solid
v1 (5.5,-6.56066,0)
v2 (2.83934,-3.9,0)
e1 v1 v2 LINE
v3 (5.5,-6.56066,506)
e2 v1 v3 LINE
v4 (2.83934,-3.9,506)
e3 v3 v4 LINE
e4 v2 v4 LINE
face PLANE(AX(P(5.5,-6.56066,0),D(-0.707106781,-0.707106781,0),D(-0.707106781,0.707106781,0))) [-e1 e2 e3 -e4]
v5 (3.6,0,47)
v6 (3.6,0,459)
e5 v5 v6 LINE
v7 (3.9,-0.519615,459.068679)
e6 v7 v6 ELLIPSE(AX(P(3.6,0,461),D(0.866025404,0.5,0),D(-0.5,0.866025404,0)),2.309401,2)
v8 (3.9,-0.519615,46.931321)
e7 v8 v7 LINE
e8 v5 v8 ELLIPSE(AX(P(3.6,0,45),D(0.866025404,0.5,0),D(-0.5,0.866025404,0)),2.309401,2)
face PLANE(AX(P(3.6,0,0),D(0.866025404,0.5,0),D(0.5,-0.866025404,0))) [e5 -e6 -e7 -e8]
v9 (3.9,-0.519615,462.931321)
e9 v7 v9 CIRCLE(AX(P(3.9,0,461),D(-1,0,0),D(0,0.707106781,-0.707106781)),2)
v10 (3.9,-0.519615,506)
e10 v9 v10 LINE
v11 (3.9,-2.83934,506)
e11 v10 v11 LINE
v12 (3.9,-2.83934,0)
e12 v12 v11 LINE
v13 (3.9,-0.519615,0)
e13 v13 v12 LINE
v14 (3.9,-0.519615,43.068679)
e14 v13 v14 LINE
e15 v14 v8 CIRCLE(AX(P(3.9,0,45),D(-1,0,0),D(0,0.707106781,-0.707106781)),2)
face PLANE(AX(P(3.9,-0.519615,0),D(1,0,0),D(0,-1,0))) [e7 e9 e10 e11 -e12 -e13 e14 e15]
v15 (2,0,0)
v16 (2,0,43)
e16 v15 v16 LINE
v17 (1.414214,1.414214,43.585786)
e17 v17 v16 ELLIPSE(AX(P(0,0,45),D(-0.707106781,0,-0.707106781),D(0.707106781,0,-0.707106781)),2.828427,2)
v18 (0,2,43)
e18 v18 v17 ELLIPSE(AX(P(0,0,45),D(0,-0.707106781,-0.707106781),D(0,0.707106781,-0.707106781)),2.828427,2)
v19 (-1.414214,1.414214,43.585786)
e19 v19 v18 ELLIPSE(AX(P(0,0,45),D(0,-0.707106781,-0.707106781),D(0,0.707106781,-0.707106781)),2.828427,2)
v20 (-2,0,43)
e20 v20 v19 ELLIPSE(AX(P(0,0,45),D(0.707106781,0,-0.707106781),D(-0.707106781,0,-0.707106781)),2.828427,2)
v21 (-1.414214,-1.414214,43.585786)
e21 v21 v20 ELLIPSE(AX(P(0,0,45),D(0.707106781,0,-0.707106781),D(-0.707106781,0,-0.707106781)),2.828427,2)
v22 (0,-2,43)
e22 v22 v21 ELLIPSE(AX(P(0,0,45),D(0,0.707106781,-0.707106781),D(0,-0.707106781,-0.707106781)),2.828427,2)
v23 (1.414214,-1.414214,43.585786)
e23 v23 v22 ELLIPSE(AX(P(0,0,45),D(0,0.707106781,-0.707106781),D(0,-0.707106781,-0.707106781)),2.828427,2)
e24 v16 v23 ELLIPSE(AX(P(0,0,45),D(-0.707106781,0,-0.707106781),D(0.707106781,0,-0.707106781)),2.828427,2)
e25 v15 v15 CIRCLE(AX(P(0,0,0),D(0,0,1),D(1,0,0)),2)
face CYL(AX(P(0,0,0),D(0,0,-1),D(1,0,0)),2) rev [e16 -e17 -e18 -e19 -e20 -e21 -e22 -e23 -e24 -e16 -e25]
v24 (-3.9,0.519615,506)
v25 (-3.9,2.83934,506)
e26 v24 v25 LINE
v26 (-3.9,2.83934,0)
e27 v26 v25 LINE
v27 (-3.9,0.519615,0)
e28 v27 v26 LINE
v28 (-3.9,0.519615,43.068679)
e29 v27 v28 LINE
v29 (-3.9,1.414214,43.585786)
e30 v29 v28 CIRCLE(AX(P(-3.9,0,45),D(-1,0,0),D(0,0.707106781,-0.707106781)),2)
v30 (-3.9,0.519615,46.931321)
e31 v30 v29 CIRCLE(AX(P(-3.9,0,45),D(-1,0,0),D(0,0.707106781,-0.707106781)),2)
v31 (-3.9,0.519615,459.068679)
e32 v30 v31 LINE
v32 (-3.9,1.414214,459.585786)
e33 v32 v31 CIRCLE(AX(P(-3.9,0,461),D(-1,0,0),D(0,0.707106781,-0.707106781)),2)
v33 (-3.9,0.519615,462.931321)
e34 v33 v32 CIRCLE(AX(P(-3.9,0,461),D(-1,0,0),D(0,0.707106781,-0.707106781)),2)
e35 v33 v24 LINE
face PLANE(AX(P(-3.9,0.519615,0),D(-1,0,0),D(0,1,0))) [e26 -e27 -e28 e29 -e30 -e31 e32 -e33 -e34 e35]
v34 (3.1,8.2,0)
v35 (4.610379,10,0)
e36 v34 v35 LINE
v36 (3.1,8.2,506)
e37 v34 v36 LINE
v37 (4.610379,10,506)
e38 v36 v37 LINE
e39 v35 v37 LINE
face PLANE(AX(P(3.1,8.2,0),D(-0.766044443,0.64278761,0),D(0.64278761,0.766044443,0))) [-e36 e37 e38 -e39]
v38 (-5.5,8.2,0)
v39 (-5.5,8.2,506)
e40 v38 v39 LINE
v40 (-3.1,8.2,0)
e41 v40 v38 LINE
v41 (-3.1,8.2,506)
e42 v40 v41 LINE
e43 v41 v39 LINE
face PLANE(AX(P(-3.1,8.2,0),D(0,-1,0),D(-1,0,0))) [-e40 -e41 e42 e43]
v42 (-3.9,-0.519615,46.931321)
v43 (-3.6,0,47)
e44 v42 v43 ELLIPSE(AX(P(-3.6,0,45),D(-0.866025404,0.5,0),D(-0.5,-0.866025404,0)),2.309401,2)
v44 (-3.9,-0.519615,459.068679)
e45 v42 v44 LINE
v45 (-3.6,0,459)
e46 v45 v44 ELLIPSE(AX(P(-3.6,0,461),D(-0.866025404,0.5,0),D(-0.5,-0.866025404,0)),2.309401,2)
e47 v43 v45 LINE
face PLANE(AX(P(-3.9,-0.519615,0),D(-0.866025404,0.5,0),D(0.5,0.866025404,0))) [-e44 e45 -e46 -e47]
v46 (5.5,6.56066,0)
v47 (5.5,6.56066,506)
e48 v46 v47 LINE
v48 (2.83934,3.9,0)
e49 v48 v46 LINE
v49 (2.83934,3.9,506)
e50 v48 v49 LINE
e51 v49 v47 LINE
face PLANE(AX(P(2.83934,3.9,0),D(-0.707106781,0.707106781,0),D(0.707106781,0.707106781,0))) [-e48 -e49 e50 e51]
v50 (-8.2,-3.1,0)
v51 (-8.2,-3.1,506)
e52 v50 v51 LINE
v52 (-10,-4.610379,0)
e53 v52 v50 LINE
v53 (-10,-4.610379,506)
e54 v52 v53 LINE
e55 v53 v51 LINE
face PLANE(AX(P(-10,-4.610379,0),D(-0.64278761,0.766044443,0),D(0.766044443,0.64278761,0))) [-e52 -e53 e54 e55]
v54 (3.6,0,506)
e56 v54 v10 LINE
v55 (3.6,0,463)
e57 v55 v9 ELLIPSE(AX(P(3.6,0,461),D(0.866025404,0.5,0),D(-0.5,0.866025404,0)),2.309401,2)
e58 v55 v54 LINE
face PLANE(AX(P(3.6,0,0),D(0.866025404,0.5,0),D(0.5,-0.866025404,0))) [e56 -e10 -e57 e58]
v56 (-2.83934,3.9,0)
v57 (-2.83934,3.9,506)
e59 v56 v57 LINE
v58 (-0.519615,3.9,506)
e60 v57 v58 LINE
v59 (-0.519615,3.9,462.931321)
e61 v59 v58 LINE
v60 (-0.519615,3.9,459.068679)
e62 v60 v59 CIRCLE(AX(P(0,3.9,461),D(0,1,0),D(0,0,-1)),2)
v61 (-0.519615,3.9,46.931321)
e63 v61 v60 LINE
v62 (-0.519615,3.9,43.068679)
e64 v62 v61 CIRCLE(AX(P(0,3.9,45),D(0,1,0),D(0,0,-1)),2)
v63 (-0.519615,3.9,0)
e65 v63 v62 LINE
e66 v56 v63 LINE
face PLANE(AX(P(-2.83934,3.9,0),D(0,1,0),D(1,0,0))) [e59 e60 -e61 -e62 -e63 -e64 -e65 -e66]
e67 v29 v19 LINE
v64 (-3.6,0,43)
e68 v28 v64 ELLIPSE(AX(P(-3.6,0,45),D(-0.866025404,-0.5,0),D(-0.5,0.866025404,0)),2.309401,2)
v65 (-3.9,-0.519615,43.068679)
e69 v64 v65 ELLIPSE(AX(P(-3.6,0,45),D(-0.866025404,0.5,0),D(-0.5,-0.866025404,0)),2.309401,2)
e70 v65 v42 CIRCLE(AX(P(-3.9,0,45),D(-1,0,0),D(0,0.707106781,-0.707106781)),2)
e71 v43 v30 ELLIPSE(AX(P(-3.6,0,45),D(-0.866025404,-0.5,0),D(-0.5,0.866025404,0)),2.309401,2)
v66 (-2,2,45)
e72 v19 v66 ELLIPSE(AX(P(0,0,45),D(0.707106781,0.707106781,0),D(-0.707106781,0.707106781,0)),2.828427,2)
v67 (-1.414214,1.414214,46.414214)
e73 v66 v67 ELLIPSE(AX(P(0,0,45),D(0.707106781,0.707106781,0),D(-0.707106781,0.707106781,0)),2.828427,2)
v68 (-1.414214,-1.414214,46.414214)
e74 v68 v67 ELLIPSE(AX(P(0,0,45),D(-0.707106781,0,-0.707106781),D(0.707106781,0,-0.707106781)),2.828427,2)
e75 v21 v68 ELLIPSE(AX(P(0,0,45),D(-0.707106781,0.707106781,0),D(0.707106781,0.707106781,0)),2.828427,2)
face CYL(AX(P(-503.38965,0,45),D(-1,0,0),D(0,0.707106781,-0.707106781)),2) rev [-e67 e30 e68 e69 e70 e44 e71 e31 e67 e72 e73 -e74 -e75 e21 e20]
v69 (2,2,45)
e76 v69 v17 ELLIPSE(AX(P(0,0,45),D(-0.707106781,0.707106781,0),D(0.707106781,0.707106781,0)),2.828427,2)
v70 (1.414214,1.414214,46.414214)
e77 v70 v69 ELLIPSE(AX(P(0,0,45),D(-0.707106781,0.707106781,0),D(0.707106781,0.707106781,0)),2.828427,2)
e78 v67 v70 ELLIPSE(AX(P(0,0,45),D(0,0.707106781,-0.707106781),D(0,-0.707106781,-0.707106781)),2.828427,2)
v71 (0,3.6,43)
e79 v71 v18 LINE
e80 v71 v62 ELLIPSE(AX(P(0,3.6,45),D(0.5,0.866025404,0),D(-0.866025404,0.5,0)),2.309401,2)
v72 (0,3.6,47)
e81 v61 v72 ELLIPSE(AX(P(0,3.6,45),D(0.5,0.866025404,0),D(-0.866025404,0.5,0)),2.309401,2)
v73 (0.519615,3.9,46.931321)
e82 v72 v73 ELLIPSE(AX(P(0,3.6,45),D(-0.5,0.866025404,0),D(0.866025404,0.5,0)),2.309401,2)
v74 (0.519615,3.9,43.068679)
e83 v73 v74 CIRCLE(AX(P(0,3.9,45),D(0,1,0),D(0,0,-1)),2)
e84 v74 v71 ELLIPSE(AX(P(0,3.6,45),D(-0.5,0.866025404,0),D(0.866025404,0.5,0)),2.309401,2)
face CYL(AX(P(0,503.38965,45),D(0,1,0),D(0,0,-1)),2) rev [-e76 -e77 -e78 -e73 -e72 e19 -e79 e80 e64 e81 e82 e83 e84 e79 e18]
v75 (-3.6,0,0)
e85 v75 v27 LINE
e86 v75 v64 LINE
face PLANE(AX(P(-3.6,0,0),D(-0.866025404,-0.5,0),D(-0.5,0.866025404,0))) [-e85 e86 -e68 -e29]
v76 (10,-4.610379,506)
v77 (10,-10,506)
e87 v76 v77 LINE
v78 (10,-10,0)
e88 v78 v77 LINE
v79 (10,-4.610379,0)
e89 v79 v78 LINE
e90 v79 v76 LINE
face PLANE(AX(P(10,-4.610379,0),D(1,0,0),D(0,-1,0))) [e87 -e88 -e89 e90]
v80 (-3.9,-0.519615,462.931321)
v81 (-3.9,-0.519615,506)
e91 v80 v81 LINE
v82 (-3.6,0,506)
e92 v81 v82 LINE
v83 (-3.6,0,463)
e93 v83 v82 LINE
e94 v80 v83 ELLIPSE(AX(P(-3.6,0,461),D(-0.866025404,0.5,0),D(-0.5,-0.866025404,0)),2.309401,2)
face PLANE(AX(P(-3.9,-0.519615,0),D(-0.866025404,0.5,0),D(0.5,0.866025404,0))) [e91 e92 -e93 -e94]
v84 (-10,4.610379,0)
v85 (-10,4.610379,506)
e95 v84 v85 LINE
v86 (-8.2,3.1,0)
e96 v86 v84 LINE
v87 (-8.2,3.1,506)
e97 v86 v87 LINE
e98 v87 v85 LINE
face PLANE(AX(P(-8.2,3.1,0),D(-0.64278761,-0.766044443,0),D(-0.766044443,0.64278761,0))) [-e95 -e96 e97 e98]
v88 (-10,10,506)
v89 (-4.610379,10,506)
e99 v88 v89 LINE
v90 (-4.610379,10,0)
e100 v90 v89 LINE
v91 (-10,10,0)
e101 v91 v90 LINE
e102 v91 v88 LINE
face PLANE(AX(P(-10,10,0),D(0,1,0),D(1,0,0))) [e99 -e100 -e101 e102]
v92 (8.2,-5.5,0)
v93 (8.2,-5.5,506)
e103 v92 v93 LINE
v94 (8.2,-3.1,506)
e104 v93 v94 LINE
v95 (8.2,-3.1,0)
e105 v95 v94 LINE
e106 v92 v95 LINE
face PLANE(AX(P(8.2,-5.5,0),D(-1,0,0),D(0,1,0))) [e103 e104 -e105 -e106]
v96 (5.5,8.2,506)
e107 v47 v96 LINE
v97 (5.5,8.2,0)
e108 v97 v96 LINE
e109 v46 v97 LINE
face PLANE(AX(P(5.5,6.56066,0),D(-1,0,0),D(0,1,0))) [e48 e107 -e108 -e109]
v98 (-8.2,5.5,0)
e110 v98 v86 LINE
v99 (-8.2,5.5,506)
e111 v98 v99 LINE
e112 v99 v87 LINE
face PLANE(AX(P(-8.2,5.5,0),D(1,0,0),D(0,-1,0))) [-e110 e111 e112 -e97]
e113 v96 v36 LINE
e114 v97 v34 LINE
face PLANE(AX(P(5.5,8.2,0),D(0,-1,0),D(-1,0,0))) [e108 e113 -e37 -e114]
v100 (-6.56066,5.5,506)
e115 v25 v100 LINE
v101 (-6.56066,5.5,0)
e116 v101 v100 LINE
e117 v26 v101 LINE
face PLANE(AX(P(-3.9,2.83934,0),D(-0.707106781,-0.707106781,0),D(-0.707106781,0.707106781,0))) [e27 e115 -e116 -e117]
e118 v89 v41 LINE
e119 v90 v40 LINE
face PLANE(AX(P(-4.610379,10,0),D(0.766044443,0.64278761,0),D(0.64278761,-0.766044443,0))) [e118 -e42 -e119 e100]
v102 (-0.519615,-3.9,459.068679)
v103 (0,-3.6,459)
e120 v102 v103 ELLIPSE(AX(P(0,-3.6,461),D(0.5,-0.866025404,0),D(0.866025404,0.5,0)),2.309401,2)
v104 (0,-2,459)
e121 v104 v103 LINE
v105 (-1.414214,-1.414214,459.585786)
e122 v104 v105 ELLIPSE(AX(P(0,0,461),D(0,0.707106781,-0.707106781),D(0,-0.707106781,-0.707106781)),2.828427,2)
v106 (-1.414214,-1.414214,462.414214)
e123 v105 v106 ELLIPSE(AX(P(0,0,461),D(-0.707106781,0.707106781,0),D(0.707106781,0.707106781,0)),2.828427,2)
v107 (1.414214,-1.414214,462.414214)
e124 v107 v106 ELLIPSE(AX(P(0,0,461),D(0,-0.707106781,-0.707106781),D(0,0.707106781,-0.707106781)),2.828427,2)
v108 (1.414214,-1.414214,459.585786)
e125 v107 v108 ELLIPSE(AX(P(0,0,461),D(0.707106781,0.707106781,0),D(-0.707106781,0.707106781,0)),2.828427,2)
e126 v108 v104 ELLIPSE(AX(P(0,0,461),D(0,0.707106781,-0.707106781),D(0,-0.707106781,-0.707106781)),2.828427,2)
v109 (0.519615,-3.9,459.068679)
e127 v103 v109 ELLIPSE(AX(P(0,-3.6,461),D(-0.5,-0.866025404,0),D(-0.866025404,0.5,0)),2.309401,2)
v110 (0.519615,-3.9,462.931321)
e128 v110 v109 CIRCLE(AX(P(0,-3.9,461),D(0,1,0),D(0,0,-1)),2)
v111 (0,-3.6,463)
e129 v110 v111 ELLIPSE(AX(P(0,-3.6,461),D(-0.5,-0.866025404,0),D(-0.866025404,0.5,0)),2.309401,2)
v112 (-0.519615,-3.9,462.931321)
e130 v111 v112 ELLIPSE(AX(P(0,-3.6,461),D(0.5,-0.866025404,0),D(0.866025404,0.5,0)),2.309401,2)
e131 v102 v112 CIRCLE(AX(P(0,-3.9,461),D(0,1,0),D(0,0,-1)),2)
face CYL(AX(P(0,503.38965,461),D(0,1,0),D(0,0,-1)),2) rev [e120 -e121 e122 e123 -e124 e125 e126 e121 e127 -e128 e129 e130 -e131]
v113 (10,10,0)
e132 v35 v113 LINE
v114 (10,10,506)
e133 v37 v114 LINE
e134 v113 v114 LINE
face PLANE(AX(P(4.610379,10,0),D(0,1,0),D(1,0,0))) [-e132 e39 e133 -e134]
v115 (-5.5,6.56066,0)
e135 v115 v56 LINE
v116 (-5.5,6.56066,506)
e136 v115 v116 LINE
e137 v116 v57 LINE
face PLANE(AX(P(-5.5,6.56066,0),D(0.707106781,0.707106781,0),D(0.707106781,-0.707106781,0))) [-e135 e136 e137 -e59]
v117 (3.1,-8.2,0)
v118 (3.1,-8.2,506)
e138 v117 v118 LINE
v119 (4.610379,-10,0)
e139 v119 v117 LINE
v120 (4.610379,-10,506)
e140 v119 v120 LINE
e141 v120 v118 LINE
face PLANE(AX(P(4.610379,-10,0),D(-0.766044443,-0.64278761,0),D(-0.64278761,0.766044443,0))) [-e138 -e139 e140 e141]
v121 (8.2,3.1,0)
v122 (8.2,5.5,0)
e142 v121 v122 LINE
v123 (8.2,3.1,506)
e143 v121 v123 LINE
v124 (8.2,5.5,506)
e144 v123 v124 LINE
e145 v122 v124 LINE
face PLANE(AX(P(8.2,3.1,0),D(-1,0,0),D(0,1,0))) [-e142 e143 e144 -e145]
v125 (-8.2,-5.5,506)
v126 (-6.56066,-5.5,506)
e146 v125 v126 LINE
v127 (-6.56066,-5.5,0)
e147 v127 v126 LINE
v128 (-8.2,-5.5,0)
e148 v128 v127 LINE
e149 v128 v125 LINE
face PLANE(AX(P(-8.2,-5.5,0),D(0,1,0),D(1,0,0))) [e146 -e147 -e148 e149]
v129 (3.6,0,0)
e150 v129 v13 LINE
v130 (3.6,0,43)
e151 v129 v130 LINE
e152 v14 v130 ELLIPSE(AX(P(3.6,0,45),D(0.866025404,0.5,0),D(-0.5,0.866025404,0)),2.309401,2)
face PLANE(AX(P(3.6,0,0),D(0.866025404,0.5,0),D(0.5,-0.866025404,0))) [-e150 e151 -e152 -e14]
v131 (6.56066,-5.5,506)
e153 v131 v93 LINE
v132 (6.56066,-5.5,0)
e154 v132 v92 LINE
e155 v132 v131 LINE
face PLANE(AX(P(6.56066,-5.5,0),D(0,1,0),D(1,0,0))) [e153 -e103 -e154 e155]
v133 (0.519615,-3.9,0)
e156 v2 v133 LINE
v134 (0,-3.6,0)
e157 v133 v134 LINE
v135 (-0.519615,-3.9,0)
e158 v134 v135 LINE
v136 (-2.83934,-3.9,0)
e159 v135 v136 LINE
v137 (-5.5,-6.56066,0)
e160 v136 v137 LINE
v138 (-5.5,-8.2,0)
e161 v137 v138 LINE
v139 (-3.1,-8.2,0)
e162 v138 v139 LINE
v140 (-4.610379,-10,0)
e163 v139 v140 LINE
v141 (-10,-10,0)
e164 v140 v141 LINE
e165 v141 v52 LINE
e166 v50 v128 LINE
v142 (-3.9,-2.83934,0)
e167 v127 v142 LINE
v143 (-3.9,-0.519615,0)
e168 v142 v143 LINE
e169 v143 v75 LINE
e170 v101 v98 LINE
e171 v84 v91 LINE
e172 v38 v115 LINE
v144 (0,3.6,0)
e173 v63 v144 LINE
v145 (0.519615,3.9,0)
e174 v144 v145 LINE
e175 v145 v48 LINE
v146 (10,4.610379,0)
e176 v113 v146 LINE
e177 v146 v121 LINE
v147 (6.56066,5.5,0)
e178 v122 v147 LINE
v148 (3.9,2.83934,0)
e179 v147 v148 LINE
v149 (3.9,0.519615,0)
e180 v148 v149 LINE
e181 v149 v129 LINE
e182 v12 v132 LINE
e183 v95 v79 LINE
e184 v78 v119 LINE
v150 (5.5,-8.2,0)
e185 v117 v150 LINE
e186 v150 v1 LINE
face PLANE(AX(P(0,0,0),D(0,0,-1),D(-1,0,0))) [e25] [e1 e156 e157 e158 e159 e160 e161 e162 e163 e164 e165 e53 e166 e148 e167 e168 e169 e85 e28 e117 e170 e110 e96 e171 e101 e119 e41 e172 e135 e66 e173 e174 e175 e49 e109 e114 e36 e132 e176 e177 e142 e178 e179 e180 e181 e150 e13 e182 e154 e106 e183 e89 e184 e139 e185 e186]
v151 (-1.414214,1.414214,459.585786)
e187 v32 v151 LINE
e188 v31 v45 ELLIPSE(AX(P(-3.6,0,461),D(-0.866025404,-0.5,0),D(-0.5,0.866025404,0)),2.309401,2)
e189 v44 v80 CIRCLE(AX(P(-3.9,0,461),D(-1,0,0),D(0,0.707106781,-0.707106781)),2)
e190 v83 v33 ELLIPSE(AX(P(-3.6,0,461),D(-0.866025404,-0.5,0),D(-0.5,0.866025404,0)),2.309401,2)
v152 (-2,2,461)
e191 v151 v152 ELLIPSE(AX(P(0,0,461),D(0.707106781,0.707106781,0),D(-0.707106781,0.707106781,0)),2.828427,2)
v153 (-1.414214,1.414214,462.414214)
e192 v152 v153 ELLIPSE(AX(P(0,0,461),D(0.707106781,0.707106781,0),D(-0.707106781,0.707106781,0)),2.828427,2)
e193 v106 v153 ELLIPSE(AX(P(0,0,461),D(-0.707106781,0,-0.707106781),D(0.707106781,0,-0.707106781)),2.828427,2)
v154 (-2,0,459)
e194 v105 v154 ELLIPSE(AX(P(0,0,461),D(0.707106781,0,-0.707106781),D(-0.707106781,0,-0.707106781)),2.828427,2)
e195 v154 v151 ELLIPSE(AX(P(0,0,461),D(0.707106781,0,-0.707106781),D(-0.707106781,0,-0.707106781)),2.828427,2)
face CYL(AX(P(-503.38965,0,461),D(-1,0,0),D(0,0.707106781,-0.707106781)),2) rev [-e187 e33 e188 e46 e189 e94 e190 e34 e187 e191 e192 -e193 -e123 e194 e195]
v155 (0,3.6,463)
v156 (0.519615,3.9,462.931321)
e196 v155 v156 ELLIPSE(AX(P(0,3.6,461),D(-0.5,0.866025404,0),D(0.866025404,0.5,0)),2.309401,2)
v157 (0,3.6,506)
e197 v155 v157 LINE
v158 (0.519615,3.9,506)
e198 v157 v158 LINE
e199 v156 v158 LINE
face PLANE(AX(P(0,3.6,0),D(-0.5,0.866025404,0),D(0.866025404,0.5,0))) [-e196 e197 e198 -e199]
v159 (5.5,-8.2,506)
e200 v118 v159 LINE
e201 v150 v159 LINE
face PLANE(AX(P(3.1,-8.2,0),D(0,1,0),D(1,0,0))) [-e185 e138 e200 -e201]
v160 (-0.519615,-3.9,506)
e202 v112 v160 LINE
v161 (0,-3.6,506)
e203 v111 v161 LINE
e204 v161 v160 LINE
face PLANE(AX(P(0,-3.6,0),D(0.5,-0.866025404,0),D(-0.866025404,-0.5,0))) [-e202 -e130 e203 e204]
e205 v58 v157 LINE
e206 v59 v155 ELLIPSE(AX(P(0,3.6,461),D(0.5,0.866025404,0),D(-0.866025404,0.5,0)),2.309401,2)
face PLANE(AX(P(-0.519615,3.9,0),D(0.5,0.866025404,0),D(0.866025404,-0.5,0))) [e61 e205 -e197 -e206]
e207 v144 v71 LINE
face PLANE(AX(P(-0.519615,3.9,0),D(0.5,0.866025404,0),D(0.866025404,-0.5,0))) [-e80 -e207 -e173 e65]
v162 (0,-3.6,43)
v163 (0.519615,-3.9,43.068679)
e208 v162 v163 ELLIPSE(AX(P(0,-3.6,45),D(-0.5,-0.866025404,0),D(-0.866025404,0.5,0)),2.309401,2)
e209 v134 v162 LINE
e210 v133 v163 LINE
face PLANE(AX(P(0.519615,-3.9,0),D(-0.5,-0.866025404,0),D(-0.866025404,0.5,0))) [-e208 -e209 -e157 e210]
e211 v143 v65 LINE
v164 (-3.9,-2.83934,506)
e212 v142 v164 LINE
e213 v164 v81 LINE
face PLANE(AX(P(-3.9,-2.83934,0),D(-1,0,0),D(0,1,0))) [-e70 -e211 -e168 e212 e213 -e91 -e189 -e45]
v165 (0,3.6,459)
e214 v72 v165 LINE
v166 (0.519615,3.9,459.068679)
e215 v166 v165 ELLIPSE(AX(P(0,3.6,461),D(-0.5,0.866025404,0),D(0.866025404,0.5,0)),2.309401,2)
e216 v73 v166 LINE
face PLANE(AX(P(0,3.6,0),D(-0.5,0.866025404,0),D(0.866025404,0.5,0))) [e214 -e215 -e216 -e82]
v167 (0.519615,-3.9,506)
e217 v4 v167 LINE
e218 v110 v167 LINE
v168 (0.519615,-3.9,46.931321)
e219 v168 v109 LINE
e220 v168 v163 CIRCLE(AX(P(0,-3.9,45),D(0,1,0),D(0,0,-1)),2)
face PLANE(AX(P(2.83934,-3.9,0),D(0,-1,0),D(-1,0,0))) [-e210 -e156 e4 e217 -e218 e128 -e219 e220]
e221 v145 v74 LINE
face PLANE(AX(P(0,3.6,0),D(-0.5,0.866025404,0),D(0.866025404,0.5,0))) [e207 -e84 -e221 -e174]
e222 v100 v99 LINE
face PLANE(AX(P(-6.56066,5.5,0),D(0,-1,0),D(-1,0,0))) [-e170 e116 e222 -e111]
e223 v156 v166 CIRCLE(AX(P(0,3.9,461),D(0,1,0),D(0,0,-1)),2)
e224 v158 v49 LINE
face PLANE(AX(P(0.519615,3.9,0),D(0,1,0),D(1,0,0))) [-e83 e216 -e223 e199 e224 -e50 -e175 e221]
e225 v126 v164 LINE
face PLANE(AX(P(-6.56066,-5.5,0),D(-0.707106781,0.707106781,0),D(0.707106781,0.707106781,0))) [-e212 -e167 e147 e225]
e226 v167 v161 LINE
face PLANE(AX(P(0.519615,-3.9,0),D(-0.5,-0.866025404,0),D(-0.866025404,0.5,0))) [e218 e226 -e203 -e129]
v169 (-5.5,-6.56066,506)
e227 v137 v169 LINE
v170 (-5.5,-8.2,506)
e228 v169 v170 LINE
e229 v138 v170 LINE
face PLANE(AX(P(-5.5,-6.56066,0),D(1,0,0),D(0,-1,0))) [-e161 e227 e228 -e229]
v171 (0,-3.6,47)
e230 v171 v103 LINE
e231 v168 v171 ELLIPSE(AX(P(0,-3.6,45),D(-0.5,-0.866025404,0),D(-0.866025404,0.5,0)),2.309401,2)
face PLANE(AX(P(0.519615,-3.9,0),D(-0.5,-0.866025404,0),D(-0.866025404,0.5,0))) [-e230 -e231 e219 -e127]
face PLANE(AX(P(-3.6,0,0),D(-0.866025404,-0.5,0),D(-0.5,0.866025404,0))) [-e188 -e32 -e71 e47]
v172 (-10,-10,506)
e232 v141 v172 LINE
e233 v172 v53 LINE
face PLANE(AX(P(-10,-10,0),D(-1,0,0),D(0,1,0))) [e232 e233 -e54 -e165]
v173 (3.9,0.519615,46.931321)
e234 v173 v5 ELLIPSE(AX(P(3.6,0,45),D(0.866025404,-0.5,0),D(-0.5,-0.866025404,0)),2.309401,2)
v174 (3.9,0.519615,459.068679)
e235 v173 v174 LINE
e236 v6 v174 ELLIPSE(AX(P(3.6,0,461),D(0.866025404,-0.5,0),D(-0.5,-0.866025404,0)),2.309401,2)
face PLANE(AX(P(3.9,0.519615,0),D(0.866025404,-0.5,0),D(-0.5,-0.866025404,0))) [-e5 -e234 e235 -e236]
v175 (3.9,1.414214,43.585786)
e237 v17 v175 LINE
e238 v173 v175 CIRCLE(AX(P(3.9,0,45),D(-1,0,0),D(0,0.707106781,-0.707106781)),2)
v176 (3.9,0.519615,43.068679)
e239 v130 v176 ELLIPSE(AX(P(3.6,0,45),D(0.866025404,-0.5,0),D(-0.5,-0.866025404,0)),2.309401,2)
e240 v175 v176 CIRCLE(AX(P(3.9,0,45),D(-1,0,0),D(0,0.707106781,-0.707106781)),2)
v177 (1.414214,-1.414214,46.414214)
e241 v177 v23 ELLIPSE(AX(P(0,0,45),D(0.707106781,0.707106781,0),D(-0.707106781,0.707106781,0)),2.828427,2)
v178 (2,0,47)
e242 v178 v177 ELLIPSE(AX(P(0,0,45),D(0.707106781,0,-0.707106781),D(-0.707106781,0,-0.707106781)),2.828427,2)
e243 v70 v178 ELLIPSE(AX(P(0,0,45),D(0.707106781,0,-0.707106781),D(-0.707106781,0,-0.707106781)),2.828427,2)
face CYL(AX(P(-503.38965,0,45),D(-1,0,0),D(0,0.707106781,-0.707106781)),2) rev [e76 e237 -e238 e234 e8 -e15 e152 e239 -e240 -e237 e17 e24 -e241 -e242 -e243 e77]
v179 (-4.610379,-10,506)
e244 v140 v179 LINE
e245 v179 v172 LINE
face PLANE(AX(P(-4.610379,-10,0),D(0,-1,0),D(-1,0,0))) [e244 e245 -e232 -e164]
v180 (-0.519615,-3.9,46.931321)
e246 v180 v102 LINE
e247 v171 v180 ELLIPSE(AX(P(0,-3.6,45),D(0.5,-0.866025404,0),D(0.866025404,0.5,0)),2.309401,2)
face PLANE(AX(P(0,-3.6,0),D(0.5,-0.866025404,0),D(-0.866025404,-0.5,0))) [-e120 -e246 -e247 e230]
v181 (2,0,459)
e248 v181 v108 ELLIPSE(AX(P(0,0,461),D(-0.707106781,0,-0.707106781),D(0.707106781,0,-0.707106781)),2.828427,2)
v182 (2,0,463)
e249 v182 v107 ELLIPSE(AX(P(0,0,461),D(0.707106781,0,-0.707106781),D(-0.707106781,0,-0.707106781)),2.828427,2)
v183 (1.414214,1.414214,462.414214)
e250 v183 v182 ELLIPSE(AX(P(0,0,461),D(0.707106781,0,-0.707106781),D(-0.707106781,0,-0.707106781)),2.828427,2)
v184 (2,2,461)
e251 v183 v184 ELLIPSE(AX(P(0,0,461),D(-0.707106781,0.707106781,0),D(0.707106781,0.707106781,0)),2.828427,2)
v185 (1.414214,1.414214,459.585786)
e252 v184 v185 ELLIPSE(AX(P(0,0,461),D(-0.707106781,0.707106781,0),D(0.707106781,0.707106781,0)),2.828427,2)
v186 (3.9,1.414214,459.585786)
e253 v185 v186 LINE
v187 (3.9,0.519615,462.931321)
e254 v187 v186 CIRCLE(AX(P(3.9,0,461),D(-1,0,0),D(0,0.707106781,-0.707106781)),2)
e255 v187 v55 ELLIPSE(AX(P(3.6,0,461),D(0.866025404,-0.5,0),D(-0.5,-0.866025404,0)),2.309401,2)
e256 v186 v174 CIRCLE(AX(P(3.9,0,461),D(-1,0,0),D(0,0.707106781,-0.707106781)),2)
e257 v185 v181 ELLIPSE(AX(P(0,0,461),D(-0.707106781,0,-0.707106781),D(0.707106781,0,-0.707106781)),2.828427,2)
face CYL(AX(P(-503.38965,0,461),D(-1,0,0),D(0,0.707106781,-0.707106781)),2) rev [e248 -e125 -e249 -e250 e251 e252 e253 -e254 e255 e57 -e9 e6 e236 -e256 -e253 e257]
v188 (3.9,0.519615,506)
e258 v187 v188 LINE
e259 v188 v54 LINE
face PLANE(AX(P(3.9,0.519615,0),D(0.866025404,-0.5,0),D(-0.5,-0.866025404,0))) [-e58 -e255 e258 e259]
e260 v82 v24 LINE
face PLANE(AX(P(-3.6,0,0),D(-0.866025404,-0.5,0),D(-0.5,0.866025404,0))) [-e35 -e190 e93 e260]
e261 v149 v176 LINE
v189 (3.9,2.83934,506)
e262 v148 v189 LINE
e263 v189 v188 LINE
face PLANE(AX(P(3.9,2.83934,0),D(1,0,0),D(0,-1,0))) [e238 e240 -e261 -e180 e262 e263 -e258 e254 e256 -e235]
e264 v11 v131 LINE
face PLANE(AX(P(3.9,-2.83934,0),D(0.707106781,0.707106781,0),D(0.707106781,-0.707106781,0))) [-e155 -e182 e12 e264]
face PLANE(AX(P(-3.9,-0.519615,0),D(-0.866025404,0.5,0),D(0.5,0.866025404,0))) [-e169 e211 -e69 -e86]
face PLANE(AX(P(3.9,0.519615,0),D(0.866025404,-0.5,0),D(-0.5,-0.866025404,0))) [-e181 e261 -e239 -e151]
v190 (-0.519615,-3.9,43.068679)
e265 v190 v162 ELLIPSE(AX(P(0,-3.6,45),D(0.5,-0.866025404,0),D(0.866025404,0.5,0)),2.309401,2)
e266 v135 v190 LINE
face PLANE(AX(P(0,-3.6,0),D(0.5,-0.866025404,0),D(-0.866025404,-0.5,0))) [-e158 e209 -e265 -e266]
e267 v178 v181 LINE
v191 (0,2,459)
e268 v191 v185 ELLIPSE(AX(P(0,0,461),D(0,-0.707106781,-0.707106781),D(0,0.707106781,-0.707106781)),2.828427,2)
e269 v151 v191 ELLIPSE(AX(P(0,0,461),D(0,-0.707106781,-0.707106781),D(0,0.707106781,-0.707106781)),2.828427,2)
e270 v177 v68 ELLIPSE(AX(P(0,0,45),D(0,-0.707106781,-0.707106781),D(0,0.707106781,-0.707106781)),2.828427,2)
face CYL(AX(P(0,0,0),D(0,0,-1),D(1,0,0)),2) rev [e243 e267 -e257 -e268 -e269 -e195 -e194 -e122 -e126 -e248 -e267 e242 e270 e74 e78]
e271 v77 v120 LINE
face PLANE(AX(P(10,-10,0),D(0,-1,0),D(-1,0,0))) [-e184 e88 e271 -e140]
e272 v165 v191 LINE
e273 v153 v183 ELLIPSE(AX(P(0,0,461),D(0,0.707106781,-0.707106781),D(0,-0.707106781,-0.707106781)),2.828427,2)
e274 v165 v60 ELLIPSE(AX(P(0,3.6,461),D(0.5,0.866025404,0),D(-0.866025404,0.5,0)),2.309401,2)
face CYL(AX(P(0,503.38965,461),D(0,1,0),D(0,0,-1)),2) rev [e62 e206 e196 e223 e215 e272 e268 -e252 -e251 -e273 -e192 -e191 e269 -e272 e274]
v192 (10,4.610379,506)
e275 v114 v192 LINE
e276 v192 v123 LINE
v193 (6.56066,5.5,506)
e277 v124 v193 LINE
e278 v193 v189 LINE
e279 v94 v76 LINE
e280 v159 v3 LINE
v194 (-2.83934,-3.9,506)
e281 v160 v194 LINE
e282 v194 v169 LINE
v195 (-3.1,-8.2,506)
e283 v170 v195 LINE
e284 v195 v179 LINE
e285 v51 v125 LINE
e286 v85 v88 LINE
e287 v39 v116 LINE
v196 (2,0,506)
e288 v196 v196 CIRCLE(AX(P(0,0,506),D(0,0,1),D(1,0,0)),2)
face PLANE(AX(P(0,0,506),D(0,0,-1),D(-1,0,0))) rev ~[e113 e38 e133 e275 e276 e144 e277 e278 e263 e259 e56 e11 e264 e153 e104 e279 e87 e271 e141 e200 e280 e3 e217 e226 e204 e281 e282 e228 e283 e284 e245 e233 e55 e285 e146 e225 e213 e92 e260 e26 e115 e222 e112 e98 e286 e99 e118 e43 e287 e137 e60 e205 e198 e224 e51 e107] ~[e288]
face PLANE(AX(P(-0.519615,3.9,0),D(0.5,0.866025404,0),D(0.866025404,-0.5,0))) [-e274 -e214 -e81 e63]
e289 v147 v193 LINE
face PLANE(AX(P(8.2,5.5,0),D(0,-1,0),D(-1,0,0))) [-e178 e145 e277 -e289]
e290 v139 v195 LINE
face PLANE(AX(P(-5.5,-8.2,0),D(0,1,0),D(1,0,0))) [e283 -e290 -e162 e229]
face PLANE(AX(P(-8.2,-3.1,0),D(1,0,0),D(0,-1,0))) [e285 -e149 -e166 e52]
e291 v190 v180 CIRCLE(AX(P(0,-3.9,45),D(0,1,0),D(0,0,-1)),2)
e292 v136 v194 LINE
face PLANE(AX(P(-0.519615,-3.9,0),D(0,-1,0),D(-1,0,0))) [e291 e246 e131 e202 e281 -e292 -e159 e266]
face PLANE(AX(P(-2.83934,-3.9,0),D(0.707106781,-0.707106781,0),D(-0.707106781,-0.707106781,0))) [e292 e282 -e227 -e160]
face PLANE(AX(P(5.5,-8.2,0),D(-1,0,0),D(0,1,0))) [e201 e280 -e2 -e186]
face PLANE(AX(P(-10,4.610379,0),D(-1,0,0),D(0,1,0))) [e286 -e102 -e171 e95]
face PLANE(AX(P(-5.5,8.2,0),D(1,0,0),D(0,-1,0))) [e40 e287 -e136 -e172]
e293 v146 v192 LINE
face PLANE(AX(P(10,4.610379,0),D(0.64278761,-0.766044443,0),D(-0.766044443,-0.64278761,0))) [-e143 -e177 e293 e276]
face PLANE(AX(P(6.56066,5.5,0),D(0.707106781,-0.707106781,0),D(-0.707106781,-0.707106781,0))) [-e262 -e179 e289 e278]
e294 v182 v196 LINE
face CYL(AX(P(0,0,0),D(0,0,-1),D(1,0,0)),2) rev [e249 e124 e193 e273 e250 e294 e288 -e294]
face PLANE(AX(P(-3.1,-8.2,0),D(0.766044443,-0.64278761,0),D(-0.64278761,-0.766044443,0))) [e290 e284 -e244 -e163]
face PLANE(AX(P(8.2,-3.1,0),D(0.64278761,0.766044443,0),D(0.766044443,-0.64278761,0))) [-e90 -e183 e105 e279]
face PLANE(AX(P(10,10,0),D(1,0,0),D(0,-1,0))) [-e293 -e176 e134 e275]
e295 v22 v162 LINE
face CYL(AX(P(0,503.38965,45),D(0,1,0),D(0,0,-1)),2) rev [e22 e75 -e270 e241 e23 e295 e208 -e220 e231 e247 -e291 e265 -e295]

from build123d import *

# Parameters (mm, degrees)
SKETCH1_R               = 2
BOSS_EXTRUDE1_DEPTH     = 506
CUT_EXTRUDE1_DEPTH      = 507.289650299
CUT_EXTRUDE1_DEPTH_BACK = 507.289650299
SKETCH2_R               = 2
CUT_EXTRUDE2_DEPTH      = 507.289650299
CUT_EXTRUDE2_DEPTH_BACK = 507.289650299
SKETCH3_R               = 2


with BuildPart() as part:
    # Sketch1 → Boss-Extrude1 (new body)
    with BuildSketch(Plane.XY):
        Polygon((10, 10), (10, 4.610379336), (8.2, 3.1), (8.2, 5.5), (6.560660172, 5.5), (3.9, 2.839339828), (3.9, 0.519615242), (3.6, 0), (3.9, -0.519615242), (3.9, -2.839339828), (6.560660172, -5.5), (8.2, -5.5), (8.2, -3.1), (10, -4.610379336), (10, -10), (4.610379336, -10), (3.1, -8.2), (5.5, -8.2), (5.5, -6.560660172), (2.839339828, -3.9), (0.519615242, -3.9), (0, -3.6), (-0.519615242, -3.9), (-2.839339828, -3.9), (-5.5, -6.560660172), (-5.5, -8.2), (-3.1, -8.2), (-4.610379336, -10), (-10, -10), (-10, -4.610379336), (-8.2, -3.1), (-8.2, -5.5), (-6.560660172, -5.5), (-3.9, -2.839339828), (-3.9, -0.519615242), (-3.6, 0), (-3.9, 0.519615242), (-3.9, 2.839339828), (-6.560660172, 5.5), (-8.2, 5.5), (-8.2, 3.1), (-10, 4.610379336), (-10, 10), (-4.610379336, 10), (-3.1, 8.2), (-5.5, 8.2), (-5.5, 6.560660172), (-2.839339828, 3.9), (-0.519615242, 3.9), (0, 3.6), (0.519615242, 3.9), (2.839339828, 3.9), (5.5, 6.560660172), (5.5, 8.2), (3.1, 8.2), (4.610379336, 10), align=None)
        Circle(SKETCH1_R, mode=Mode.SUBTRACT)
    extrude(amount=BOSS_EXTRUDE1_DEPTH)

    # Sketch2 → Cut-Extrude1 (cut, two sides: drawn at the far end of the back side and taken through both)
    with BuildSketch(Plane(origin=(0, -3.9, 0), x_dir=(-1, 0, 0), z_dir=(0, -1, 0)).offset(-CUT_EXTRUDE1_DEPTH_BACK)):
        with Locations(Location((0, -461, 0), (0, 0, 90))):
            Circle(SKETCH2_R)
        with Locations(Location((0, -45, 0), (0, 0, 90))):
            Circle(SKETCH2_R)
    extrude(amount=CUT_EXTRUDE1_DEPTH + CUT_EXTRUDE1_DEPTH_BACK, mode=Mode.SUBTRACT)

    # Sketch3 → Cut-Extrude2 (cut, two sides: drawn at the far end of the back side and taken through both)
    with BuildSketch(Plane(origin=(3.9, 0, 0), x_dir=(0, 0, -1), z_dir=(1, 0, 0)).offset(-CUT_EXTRUDE2_DEPTH_BACK)):
        with Locations(Location((-45, 0, 0), (0, 0, 45))):
            Circle(SKETCH3_R)
        with Locations(Location((-461, 0, 0), (0, 0, 45))):
            Circle(SKETCH3_R)
    extrude(amount=CUT_EXTRUDE2_DEPTH + CUT_EXTRUDE2_DEPTH_BACK, mode=Mode.SUBTRACT)


solid = part.part
